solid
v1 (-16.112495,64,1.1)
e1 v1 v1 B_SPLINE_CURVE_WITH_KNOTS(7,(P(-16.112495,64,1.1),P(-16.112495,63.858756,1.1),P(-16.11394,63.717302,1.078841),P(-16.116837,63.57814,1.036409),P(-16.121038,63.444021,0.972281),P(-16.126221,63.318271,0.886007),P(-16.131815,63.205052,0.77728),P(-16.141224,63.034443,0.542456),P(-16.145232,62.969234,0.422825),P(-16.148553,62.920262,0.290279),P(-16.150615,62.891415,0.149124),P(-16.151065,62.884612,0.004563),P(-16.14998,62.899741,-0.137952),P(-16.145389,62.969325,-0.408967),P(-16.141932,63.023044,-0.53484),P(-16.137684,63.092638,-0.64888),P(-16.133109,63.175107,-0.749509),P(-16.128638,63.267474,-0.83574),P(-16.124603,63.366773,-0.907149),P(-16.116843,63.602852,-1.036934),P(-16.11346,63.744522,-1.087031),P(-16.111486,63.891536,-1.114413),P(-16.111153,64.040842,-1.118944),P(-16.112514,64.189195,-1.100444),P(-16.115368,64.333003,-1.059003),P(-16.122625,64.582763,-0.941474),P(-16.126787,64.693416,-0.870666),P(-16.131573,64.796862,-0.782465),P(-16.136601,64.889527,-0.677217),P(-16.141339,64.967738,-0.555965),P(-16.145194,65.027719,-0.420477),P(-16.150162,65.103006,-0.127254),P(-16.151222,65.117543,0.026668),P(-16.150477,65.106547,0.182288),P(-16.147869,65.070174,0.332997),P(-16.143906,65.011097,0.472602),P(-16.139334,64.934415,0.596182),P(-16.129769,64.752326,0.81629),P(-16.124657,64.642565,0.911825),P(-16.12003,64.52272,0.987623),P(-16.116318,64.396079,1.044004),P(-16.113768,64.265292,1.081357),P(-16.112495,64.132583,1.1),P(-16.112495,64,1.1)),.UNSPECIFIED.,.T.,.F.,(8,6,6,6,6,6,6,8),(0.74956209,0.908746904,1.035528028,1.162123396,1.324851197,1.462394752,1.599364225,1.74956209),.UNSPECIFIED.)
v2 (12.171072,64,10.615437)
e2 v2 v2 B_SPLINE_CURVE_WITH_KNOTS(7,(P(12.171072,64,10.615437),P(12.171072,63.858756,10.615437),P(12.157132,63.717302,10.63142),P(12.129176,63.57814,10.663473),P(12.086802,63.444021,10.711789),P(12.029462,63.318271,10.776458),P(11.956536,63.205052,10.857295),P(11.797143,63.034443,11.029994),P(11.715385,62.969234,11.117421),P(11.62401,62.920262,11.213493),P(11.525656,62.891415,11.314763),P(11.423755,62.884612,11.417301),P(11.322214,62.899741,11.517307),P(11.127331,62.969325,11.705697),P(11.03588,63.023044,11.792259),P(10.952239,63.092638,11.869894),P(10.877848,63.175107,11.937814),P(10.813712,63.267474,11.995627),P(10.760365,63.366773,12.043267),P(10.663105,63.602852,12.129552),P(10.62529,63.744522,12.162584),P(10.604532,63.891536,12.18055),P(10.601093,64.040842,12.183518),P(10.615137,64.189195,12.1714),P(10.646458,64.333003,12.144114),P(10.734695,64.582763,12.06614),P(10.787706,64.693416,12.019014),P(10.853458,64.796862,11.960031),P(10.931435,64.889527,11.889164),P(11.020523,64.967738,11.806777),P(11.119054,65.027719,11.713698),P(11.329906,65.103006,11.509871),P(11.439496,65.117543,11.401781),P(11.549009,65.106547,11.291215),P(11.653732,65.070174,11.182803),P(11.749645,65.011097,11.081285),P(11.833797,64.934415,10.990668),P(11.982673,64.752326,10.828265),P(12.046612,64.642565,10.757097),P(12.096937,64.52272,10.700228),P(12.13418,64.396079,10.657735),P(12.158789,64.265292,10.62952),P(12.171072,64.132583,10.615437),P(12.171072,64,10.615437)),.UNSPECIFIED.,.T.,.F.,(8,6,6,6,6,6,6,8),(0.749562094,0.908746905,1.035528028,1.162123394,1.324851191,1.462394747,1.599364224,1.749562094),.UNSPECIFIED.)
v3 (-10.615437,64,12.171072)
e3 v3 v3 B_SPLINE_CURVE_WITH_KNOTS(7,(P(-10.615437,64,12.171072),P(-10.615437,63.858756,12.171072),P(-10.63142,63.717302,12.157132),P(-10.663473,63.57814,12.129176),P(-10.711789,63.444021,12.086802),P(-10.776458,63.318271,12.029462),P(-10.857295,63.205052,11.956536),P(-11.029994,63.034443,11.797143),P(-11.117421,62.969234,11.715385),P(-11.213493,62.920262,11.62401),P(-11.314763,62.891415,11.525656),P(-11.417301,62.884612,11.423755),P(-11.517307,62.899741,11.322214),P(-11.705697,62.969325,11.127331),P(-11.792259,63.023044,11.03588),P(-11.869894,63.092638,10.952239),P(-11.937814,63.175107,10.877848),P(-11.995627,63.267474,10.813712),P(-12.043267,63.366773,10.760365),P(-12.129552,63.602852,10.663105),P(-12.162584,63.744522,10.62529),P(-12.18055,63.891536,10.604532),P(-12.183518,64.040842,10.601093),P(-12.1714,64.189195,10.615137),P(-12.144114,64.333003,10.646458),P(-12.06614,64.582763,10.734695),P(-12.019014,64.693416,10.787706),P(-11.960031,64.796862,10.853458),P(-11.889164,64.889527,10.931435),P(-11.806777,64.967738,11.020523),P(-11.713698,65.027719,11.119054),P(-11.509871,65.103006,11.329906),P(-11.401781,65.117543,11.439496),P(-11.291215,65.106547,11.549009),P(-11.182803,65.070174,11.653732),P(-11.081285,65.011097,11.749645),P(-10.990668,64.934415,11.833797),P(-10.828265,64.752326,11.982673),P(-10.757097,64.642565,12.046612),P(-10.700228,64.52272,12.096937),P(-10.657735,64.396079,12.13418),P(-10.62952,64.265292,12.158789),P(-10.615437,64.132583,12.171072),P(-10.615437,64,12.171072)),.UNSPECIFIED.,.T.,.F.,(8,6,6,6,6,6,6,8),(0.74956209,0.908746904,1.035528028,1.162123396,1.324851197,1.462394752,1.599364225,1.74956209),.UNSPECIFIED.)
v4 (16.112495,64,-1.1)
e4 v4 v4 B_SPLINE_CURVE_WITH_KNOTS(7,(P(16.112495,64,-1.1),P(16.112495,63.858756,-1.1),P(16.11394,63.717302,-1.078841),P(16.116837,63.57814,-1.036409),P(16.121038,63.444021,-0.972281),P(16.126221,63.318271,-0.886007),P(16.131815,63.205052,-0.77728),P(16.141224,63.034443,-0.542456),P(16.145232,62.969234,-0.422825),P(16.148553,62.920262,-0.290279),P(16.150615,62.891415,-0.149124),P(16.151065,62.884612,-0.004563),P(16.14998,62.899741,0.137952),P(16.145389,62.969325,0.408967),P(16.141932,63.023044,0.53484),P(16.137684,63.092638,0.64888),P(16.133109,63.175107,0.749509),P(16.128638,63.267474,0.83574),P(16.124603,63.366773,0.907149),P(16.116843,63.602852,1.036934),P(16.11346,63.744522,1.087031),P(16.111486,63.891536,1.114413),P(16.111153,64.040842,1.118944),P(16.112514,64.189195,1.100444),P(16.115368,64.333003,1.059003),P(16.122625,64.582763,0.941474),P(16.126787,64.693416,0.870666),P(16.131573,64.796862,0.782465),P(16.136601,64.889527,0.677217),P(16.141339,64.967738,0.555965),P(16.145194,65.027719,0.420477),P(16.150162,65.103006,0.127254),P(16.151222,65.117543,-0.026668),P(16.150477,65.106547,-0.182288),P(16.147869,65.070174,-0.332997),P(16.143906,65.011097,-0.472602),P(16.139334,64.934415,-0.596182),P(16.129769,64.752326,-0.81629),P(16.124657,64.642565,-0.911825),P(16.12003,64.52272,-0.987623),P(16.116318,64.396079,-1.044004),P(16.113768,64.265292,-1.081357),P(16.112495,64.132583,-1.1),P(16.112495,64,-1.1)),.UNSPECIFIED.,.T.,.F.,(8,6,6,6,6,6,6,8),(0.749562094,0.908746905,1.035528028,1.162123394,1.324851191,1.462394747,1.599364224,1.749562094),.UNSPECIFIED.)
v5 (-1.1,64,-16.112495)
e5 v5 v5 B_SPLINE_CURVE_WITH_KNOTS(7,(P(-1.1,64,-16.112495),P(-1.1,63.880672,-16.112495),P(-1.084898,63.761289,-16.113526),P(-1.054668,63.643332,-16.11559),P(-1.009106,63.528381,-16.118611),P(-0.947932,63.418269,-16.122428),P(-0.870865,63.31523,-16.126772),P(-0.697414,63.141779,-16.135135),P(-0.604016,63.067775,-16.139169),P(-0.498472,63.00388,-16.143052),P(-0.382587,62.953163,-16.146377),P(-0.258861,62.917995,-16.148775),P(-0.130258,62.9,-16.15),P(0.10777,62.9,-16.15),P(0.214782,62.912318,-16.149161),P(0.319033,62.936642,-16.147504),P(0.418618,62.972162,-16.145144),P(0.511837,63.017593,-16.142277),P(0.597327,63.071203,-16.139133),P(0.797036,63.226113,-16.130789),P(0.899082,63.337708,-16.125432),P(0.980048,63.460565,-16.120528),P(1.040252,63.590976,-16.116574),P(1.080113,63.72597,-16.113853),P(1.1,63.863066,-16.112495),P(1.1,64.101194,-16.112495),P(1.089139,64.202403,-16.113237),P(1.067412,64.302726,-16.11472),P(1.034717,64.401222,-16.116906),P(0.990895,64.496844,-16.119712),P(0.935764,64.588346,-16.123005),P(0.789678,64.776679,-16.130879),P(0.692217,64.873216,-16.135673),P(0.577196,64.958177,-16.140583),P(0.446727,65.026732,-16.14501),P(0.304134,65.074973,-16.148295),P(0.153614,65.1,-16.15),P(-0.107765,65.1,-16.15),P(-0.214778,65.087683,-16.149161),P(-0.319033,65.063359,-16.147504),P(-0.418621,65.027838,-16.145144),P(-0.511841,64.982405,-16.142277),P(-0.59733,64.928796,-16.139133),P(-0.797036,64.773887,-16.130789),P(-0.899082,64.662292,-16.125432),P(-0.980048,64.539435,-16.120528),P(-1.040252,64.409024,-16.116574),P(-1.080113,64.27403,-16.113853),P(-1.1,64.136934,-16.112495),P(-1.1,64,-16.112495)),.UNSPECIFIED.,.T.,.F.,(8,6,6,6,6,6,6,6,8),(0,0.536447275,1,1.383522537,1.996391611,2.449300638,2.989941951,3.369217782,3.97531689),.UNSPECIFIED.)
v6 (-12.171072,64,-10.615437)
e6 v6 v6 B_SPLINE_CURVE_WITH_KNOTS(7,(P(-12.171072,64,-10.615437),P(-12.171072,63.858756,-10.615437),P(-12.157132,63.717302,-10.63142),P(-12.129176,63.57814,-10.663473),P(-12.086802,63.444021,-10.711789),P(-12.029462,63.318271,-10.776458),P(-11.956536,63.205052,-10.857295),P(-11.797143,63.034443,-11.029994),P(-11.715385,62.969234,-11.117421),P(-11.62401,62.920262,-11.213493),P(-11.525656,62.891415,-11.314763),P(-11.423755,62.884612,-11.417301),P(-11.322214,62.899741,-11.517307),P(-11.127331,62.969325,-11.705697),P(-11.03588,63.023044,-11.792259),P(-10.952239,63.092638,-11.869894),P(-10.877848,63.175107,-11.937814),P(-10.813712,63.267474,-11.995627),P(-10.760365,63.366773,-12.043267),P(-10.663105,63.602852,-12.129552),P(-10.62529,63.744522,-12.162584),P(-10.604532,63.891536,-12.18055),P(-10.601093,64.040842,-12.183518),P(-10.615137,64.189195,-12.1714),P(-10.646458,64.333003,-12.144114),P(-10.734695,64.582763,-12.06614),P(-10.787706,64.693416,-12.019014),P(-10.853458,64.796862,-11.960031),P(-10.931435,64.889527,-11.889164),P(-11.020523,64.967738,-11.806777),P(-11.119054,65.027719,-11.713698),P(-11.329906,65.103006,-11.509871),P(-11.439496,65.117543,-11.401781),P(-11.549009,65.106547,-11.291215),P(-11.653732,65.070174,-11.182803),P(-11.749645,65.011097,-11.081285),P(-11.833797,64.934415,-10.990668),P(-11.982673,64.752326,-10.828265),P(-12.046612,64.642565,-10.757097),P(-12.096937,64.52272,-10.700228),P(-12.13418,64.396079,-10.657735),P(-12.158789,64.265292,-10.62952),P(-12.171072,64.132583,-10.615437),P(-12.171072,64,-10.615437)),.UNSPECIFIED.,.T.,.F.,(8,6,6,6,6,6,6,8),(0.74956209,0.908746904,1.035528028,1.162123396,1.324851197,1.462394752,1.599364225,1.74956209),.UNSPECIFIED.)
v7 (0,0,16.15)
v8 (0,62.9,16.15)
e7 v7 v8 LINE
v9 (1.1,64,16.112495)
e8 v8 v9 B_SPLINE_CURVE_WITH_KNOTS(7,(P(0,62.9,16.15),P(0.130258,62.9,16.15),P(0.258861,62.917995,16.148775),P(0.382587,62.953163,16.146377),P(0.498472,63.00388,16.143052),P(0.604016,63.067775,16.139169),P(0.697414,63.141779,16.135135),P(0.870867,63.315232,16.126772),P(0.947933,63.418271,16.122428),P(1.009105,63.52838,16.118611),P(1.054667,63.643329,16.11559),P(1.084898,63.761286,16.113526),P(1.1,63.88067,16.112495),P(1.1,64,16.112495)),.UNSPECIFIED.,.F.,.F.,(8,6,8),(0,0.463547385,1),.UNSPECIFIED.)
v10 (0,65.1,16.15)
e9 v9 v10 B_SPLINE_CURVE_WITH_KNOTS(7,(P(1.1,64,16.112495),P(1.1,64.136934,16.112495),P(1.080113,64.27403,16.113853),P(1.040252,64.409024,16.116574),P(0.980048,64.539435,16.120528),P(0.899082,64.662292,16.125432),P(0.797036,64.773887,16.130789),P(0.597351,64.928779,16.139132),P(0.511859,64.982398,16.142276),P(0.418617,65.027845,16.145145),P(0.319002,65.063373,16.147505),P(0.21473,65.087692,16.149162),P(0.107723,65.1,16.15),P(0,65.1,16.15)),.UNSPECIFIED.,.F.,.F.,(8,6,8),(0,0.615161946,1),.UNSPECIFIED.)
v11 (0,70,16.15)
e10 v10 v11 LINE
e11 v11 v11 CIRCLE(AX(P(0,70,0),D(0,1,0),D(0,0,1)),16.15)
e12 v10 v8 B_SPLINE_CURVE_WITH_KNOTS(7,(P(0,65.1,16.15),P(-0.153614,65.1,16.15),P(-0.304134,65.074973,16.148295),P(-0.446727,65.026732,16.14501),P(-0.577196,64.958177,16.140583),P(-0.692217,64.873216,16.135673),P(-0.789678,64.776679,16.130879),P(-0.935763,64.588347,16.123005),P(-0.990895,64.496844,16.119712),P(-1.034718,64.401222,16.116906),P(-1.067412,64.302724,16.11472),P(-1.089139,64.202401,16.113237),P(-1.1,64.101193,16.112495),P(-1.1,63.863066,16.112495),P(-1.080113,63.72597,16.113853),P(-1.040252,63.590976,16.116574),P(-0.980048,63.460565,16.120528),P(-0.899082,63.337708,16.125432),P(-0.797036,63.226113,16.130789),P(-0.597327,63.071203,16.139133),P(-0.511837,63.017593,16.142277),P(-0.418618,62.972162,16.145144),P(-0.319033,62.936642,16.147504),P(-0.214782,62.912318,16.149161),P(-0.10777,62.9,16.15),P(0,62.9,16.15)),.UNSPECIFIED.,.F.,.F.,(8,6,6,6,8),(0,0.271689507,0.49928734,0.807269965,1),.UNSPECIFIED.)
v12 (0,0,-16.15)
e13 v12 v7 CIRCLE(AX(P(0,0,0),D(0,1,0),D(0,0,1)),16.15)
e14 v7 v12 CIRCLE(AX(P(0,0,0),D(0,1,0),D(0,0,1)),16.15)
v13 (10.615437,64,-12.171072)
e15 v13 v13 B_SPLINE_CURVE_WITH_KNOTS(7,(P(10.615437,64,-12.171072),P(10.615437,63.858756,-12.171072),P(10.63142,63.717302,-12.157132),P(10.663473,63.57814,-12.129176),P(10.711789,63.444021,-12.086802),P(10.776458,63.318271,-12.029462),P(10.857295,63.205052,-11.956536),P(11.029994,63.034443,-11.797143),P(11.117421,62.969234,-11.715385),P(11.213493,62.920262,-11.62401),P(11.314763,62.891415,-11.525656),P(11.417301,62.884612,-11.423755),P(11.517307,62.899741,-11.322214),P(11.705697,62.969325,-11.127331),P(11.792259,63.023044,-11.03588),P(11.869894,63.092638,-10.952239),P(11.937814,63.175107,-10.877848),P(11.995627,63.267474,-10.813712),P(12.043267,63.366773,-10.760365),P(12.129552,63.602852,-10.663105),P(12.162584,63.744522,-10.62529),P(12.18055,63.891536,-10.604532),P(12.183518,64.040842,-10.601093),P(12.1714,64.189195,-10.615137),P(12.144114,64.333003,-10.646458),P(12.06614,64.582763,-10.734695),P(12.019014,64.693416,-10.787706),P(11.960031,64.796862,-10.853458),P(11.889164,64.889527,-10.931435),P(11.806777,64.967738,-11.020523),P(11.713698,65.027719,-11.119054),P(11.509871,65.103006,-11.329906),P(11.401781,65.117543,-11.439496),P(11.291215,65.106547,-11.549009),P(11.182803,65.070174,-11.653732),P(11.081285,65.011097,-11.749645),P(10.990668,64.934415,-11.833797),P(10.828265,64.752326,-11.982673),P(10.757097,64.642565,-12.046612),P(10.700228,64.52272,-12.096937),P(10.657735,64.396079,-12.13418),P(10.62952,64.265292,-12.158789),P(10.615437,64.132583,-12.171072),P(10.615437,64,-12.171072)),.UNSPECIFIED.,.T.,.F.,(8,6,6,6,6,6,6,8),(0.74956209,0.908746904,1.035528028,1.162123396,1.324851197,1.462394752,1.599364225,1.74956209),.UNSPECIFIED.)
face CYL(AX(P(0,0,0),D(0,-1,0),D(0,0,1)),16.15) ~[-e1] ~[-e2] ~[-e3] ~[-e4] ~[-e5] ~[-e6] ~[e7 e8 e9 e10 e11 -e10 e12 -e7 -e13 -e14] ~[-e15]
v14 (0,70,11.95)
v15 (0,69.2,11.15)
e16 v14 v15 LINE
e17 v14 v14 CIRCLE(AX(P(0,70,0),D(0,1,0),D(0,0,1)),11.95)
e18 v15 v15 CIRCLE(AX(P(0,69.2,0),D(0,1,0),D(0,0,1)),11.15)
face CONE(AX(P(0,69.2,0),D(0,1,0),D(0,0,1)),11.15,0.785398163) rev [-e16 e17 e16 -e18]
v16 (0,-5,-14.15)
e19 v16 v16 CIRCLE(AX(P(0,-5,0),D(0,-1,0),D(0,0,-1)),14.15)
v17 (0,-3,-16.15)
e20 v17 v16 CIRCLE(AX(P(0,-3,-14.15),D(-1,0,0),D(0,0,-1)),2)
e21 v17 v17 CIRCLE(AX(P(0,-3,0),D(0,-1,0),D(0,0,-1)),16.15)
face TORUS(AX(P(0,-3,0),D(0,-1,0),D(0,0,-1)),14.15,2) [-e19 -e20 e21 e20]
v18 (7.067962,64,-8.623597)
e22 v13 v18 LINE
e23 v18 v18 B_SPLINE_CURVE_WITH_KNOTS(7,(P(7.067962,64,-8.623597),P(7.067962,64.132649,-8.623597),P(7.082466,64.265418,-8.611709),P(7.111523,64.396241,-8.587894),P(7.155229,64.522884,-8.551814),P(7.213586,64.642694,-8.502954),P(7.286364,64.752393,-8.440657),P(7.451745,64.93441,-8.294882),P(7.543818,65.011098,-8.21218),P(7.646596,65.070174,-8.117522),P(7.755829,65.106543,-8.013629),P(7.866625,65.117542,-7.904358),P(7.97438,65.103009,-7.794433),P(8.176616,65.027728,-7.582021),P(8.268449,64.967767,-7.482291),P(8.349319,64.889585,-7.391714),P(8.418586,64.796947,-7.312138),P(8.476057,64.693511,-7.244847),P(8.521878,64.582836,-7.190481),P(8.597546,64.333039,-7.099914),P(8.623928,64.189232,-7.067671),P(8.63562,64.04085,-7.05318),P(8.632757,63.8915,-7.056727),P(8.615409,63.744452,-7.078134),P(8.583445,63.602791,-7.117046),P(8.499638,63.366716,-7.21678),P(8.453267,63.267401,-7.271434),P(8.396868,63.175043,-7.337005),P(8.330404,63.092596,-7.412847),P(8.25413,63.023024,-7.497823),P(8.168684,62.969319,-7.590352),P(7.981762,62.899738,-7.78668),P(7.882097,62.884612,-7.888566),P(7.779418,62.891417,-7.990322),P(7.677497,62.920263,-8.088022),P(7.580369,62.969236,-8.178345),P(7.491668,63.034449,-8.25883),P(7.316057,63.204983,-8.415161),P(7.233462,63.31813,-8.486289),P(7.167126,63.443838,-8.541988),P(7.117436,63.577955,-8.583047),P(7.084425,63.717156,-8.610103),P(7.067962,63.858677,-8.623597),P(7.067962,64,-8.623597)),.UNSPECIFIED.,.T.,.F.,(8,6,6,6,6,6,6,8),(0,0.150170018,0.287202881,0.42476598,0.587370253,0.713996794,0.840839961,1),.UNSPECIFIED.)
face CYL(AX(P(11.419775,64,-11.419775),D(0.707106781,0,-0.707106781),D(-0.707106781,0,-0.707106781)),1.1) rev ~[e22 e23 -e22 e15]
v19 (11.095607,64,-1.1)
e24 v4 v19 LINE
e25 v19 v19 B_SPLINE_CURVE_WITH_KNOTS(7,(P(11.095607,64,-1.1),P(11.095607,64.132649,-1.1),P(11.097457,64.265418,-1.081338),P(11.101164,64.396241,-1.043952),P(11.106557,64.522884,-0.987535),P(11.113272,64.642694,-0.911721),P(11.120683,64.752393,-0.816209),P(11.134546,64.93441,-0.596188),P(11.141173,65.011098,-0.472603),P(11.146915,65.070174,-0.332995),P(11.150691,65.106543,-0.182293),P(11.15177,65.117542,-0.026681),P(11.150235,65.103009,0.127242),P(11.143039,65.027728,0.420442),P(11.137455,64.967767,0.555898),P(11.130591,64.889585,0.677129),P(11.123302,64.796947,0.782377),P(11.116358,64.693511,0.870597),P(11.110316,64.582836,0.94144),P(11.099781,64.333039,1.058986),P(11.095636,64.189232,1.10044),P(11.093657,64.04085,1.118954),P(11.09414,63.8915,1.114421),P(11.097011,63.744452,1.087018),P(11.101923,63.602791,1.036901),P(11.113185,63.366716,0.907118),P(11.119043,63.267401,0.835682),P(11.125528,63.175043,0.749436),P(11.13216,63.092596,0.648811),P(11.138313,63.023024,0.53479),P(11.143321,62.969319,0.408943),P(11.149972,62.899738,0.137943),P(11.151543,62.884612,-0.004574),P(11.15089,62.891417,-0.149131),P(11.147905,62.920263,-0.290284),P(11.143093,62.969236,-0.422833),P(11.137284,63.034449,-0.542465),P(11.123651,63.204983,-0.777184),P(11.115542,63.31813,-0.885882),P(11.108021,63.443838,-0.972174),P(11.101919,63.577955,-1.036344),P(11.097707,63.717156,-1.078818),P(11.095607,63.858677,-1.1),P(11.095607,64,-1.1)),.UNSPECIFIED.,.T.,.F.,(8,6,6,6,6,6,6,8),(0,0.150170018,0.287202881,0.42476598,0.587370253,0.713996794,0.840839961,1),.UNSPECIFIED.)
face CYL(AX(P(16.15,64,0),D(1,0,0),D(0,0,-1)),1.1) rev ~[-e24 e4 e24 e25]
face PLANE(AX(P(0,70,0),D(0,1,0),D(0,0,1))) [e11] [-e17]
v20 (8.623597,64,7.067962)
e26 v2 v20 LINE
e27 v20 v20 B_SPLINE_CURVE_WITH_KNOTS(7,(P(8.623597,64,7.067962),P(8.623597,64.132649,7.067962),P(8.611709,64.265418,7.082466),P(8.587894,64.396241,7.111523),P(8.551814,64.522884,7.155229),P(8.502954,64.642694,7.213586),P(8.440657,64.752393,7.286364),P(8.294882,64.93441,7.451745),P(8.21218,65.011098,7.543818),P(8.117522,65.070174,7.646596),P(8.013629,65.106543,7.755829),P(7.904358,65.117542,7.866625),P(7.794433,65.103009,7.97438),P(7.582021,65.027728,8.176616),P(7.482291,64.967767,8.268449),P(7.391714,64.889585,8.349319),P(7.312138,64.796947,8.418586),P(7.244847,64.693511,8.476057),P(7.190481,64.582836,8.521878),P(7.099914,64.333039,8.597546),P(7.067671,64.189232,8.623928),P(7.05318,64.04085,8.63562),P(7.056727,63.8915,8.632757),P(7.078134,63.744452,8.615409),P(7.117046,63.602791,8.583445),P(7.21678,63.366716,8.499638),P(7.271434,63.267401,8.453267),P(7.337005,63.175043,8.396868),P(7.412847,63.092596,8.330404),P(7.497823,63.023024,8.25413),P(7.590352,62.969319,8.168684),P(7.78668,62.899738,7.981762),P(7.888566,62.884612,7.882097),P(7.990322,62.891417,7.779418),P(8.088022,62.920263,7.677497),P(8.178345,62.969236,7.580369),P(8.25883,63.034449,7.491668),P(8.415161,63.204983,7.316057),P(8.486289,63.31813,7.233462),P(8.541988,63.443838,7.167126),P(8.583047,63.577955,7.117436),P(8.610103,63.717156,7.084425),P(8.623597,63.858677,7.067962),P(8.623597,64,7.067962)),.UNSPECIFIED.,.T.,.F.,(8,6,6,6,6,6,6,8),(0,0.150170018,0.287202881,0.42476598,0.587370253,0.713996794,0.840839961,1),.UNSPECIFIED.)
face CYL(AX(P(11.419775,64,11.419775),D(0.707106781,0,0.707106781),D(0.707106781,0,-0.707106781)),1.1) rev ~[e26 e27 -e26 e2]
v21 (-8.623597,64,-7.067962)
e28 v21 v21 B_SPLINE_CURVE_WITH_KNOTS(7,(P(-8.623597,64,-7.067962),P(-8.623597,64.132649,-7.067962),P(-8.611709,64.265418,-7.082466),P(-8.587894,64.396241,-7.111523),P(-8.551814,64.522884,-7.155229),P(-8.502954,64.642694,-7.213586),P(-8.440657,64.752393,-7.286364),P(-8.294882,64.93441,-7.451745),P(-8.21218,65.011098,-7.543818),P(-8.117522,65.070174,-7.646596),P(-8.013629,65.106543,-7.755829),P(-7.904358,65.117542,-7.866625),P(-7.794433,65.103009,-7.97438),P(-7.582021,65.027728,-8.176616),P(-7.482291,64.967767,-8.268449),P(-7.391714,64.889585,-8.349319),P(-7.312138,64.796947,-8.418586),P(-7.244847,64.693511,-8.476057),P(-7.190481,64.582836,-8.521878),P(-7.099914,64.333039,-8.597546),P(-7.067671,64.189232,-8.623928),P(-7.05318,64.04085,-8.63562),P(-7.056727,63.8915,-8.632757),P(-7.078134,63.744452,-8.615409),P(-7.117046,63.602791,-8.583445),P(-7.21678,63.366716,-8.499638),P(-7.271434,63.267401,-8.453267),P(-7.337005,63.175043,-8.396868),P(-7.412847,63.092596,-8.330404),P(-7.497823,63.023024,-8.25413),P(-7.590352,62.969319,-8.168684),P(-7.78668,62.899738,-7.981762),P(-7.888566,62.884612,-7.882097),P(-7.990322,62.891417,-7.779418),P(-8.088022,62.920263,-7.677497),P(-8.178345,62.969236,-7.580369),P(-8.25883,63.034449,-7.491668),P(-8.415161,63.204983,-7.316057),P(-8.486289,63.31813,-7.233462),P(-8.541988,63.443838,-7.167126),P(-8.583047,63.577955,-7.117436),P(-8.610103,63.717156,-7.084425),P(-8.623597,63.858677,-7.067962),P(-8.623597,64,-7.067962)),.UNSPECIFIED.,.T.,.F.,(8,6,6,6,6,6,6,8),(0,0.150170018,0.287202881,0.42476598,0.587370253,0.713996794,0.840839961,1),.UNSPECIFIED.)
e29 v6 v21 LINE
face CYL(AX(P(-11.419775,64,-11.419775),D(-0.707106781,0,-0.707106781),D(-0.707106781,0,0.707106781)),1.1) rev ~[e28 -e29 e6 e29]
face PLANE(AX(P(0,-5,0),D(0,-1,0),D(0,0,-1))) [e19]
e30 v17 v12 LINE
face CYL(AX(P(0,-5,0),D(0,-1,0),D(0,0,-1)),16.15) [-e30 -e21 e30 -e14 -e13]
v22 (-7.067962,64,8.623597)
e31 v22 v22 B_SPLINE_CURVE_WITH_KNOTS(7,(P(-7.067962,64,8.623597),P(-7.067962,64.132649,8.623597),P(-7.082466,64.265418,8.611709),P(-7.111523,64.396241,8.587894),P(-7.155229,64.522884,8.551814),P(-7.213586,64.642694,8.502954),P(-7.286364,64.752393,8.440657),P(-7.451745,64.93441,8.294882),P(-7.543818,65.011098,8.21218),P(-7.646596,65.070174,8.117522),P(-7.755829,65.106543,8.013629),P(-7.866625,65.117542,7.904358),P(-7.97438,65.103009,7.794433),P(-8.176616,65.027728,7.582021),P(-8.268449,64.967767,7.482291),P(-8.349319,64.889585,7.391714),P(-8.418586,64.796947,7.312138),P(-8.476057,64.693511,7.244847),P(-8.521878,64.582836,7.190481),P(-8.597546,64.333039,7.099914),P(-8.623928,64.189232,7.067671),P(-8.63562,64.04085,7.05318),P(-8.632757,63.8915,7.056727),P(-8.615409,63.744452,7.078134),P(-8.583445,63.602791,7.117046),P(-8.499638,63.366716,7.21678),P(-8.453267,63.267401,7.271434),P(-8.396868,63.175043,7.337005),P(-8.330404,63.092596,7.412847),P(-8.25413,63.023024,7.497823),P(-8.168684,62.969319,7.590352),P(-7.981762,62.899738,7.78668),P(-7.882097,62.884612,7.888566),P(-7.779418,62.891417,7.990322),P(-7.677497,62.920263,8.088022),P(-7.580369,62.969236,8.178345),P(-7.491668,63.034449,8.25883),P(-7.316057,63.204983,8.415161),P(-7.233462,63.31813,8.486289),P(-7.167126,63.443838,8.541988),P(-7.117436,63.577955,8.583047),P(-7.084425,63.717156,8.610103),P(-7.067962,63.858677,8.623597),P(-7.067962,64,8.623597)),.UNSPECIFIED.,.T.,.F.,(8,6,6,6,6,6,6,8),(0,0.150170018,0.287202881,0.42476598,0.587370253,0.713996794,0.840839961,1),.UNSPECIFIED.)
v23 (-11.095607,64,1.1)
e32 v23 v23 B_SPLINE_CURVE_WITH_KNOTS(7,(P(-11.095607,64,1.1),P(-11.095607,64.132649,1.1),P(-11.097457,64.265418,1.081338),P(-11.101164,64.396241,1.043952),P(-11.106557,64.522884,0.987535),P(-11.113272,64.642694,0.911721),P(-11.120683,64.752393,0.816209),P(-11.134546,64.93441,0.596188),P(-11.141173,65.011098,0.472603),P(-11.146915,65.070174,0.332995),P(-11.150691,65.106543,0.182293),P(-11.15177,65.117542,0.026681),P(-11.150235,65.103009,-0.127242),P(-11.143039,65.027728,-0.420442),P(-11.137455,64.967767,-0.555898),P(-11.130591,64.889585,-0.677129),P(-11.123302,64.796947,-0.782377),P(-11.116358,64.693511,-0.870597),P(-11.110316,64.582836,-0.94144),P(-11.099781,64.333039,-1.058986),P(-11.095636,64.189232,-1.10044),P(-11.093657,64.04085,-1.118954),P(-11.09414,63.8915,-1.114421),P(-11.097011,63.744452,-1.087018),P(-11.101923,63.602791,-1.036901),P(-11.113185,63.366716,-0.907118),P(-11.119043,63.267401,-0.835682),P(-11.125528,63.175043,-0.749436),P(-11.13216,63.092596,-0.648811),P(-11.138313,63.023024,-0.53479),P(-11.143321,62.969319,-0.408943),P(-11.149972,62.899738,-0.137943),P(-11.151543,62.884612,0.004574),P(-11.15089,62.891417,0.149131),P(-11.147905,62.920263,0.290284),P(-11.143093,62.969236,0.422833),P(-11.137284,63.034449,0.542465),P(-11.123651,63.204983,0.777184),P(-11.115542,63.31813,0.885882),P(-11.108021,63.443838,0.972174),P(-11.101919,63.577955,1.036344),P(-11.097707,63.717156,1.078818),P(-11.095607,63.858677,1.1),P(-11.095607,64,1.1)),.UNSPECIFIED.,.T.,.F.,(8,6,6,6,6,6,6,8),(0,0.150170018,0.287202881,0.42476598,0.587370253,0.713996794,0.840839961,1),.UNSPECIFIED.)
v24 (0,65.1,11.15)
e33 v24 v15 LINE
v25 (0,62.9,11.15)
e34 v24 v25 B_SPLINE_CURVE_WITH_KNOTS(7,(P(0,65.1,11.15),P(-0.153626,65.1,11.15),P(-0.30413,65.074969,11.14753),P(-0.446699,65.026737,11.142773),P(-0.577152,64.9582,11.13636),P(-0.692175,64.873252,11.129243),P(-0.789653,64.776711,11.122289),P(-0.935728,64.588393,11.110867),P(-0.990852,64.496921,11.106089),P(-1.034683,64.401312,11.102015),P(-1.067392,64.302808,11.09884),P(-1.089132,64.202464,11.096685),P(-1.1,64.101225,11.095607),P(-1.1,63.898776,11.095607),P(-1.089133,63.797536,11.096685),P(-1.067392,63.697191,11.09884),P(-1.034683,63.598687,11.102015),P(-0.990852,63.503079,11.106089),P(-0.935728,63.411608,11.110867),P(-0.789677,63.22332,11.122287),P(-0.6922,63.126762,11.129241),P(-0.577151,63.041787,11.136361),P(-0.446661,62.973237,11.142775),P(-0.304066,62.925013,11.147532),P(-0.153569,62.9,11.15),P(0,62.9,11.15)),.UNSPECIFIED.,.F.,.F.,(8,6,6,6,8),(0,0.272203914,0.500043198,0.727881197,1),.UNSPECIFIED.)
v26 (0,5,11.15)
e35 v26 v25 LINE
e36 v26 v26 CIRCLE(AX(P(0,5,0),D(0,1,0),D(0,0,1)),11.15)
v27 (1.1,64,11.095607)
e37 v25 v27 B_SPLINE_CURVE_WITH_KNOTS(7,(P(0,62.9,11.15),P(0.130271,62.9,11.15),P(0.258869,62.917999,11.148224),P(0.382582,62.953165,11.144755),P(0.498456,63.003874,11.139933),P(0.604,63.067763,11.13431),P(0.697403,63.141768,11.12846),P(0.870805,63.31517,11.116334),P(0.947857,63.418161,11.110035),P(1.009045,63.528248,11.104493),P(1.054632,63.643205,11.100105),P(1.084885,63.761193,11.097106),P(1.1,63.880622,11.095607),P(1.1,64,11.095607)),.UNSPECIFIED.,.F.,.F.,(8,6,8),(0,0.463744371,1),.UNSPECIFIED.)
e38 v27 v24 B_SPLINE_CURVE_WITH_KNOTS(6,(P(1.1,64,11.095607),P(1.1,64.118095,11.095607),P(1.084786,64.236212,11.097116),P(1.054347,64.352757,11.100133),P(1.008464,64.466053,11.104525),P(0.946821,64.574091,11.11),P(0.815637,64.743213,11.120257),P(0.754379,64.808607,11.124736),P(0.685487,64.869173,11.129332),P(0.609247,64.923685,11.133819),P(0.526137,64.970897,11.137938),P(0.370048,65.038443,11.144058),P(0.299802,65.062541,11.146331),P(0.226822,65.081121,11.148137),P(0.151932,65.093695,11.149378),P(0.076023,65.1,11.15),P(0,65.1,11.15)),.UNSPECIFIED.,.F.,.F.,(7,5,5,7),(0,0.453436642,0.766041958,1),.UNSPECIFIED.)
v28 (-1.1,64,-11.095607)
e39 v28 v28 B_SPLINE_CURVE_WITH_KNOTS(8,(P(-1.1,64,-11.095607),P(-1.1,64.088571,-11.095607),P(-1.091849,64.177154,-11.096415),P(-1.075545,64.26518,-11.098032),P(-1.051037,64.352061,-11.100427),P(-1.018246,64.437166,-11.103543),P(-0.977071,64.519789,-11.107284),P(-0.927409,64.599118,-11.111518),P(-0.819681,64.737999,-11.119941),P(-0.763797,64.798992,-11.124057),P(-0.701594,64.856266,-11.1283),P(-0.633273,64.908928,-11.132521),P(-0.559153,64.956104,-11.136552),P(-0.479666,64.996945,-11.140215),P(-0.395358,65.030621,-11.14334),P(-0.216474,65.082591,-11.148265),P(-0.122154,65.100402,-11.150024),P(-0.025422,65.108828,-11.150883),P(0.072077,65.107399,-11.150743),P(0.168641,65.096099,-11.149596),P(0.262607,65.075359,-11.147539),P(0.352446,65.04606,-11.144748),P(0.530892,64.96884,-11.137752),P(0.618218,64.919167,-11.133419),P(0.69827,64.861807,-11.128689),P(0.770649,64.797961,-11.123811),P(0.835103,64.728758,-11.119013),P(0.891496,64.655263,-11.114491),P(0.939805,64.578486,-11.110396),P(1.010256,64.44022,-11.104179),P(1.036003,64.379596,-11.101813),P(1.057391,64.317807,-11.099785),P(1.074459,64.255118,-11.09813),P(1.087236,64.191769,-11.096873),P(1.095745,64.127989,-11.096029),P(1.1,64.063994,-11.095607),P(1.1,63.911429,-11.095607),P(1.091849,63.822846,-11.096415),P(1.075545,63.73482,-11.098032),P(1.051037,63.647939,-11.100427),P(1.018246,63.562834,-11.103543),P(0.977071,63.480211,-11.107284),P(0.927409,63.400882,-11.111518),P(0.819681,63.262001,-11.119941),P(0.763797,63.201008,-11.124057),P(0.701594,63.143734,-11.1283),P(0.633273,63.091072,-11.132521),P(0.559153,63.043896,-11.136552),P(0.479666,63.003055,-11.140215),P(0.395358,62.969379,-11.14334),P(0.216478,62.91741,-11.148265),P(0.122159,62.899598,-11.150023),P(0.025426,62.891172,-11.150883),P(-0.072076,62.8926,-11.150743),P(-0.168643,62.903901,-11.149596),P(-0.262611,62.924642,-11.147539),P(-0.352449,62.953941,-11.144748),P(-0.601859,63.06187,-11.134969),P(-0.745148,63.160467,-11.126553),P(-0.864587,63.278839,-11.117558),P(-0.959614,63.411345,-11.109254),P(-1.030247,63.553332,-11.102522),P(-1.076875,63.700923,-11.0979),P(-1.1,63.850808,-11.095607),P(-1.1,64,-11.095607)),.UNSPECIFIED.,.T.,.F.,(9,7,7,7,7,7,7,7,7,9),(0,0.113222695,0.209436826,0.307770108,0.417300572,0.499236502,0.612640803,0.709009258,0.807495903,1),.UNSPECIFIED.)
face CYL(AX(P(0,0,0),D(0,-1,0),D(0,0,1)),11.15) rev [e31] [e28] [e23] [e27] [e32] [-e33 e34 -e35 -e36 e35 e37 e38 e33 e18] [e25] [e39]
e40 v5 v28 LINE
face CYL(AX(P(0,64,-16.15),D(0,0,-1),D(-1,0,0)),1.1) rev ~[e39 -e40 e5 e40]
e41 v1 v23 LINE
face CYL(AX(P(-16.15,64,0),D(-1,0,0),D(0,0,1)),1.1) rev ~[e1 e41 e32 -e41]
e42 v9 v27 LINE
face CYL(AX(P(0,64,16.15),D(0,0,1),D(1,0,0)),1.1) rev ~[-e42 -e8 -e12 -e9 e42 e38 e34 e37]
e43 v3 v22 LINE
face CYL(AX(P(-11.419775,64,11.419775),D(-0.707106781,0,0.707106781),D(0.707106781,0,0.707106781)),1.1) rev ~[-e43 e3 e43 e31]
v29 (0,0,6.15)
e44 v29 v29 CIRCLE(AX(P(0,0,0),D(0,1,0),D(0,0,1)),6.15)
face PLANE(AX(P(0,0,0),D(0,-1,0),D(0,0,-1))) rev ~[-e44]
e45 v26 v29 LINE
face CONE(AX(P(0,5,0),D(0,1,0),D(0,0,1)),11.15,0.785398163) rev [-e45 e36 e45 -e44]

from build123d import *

# Parameters (mm, degrees)
SKETCH1_R           = 16.15
SKETCH1_R_2         = 11.15
BOSS_EXTRUDE1_DEPTH = 70
BOSS_EXTRUDE2_START = 5
SKETCH2_R           = 16.15
BOSS_EXTRUDE2_DEPTH = 5
CHAMFER1_SIZE       = 5
FILLET1_R           = 2
CHAMFER2_SIZE       = 0.8
SKETCH3_R           = 1.1
CUT_EXTRUDE1_DEPTH  = 10
CIRPATTERN1_COUNT   = 8


with BuildPart() as part:
    # Sketch1 → Boss-Extrude1 (new body)
    with BuildSketch(Plane(origin=(0, 0, 0), x_dir=(1, 0, 0), z_dir=(0, 1, 0))):
        with Locations(Location((0, 0, 0), (0, 0, 270))):
            Circle(SKETCH1_R)
        with Locations(Location((0, 0, 0), (0, 0, 270))):
            Circle(SKETCH1_R_2, mode=Mode.SUBTRACT)
    extrude(amount=BOSS_EXTRUDE1_DEPTH)

    # Sketch2 → Boss-Extrude2 (add)
    with BuildSketch(Plane.XZ.offset(BOSS_EXTRUDE2_START)):
        with Locations(Location((0, 0, 0), (0, 0, 270))):
            Circle(SKETCH2_R)
    extrude(amount=-BOSS_EXTRUDE2_DEPTH)

    # Chamfer1
    chamfer1_edges = [part.edges().sort_by_distance(p)[0] for p in [
        (0, 0, -11.15),
    ]]
    chamfer(chamfer1_edges, length=CHAMFER1_SIZE)

    # Fillet1
    fillet1_edges = [part.edges().sort_by_distance(p)[0] for p in [
        (0, -5, 16.15),
    ]]
    fillet(fillet1_edges, radius=FILLET1_R)

    # Chamfer2
    chamfer2_edges = [part.edges().sort_by_distance(p)[0] for p in [
        (0, 70, -11.15),
    ]]
    chamfer(chamfer2_edges, length=CHAMFER2_SIZE)

    # Sketch3 → Cut-Extrude1 (cut)
    with BuildSketch(Plane(origin=(16.15, 0, 0), x_dir=(0, 0, -1), z_dir=(1, 0, 0))):
        with Locations((0, 64)):
            Circle(SKETCH3_R)
    cut_extrude1 = extrude(amount=-CUT_EXTRUDE1_DEPTH, mode=Mode.SUBTRACT)

    # CirPattern1: Cut-Extrude1 ×8 about axis
    cirpattern1_axis = Axis((0, 69.2, 0), (0, -1, 0))
    for i in range(1, CIRPATTERN1_COUNT):
        add(cut_extrude1.rotate(cirpattern1_axis, i * 360 / CIRPATTERN1_COUNT), mode=Mode.SUBTRACT)


solid = part.part
